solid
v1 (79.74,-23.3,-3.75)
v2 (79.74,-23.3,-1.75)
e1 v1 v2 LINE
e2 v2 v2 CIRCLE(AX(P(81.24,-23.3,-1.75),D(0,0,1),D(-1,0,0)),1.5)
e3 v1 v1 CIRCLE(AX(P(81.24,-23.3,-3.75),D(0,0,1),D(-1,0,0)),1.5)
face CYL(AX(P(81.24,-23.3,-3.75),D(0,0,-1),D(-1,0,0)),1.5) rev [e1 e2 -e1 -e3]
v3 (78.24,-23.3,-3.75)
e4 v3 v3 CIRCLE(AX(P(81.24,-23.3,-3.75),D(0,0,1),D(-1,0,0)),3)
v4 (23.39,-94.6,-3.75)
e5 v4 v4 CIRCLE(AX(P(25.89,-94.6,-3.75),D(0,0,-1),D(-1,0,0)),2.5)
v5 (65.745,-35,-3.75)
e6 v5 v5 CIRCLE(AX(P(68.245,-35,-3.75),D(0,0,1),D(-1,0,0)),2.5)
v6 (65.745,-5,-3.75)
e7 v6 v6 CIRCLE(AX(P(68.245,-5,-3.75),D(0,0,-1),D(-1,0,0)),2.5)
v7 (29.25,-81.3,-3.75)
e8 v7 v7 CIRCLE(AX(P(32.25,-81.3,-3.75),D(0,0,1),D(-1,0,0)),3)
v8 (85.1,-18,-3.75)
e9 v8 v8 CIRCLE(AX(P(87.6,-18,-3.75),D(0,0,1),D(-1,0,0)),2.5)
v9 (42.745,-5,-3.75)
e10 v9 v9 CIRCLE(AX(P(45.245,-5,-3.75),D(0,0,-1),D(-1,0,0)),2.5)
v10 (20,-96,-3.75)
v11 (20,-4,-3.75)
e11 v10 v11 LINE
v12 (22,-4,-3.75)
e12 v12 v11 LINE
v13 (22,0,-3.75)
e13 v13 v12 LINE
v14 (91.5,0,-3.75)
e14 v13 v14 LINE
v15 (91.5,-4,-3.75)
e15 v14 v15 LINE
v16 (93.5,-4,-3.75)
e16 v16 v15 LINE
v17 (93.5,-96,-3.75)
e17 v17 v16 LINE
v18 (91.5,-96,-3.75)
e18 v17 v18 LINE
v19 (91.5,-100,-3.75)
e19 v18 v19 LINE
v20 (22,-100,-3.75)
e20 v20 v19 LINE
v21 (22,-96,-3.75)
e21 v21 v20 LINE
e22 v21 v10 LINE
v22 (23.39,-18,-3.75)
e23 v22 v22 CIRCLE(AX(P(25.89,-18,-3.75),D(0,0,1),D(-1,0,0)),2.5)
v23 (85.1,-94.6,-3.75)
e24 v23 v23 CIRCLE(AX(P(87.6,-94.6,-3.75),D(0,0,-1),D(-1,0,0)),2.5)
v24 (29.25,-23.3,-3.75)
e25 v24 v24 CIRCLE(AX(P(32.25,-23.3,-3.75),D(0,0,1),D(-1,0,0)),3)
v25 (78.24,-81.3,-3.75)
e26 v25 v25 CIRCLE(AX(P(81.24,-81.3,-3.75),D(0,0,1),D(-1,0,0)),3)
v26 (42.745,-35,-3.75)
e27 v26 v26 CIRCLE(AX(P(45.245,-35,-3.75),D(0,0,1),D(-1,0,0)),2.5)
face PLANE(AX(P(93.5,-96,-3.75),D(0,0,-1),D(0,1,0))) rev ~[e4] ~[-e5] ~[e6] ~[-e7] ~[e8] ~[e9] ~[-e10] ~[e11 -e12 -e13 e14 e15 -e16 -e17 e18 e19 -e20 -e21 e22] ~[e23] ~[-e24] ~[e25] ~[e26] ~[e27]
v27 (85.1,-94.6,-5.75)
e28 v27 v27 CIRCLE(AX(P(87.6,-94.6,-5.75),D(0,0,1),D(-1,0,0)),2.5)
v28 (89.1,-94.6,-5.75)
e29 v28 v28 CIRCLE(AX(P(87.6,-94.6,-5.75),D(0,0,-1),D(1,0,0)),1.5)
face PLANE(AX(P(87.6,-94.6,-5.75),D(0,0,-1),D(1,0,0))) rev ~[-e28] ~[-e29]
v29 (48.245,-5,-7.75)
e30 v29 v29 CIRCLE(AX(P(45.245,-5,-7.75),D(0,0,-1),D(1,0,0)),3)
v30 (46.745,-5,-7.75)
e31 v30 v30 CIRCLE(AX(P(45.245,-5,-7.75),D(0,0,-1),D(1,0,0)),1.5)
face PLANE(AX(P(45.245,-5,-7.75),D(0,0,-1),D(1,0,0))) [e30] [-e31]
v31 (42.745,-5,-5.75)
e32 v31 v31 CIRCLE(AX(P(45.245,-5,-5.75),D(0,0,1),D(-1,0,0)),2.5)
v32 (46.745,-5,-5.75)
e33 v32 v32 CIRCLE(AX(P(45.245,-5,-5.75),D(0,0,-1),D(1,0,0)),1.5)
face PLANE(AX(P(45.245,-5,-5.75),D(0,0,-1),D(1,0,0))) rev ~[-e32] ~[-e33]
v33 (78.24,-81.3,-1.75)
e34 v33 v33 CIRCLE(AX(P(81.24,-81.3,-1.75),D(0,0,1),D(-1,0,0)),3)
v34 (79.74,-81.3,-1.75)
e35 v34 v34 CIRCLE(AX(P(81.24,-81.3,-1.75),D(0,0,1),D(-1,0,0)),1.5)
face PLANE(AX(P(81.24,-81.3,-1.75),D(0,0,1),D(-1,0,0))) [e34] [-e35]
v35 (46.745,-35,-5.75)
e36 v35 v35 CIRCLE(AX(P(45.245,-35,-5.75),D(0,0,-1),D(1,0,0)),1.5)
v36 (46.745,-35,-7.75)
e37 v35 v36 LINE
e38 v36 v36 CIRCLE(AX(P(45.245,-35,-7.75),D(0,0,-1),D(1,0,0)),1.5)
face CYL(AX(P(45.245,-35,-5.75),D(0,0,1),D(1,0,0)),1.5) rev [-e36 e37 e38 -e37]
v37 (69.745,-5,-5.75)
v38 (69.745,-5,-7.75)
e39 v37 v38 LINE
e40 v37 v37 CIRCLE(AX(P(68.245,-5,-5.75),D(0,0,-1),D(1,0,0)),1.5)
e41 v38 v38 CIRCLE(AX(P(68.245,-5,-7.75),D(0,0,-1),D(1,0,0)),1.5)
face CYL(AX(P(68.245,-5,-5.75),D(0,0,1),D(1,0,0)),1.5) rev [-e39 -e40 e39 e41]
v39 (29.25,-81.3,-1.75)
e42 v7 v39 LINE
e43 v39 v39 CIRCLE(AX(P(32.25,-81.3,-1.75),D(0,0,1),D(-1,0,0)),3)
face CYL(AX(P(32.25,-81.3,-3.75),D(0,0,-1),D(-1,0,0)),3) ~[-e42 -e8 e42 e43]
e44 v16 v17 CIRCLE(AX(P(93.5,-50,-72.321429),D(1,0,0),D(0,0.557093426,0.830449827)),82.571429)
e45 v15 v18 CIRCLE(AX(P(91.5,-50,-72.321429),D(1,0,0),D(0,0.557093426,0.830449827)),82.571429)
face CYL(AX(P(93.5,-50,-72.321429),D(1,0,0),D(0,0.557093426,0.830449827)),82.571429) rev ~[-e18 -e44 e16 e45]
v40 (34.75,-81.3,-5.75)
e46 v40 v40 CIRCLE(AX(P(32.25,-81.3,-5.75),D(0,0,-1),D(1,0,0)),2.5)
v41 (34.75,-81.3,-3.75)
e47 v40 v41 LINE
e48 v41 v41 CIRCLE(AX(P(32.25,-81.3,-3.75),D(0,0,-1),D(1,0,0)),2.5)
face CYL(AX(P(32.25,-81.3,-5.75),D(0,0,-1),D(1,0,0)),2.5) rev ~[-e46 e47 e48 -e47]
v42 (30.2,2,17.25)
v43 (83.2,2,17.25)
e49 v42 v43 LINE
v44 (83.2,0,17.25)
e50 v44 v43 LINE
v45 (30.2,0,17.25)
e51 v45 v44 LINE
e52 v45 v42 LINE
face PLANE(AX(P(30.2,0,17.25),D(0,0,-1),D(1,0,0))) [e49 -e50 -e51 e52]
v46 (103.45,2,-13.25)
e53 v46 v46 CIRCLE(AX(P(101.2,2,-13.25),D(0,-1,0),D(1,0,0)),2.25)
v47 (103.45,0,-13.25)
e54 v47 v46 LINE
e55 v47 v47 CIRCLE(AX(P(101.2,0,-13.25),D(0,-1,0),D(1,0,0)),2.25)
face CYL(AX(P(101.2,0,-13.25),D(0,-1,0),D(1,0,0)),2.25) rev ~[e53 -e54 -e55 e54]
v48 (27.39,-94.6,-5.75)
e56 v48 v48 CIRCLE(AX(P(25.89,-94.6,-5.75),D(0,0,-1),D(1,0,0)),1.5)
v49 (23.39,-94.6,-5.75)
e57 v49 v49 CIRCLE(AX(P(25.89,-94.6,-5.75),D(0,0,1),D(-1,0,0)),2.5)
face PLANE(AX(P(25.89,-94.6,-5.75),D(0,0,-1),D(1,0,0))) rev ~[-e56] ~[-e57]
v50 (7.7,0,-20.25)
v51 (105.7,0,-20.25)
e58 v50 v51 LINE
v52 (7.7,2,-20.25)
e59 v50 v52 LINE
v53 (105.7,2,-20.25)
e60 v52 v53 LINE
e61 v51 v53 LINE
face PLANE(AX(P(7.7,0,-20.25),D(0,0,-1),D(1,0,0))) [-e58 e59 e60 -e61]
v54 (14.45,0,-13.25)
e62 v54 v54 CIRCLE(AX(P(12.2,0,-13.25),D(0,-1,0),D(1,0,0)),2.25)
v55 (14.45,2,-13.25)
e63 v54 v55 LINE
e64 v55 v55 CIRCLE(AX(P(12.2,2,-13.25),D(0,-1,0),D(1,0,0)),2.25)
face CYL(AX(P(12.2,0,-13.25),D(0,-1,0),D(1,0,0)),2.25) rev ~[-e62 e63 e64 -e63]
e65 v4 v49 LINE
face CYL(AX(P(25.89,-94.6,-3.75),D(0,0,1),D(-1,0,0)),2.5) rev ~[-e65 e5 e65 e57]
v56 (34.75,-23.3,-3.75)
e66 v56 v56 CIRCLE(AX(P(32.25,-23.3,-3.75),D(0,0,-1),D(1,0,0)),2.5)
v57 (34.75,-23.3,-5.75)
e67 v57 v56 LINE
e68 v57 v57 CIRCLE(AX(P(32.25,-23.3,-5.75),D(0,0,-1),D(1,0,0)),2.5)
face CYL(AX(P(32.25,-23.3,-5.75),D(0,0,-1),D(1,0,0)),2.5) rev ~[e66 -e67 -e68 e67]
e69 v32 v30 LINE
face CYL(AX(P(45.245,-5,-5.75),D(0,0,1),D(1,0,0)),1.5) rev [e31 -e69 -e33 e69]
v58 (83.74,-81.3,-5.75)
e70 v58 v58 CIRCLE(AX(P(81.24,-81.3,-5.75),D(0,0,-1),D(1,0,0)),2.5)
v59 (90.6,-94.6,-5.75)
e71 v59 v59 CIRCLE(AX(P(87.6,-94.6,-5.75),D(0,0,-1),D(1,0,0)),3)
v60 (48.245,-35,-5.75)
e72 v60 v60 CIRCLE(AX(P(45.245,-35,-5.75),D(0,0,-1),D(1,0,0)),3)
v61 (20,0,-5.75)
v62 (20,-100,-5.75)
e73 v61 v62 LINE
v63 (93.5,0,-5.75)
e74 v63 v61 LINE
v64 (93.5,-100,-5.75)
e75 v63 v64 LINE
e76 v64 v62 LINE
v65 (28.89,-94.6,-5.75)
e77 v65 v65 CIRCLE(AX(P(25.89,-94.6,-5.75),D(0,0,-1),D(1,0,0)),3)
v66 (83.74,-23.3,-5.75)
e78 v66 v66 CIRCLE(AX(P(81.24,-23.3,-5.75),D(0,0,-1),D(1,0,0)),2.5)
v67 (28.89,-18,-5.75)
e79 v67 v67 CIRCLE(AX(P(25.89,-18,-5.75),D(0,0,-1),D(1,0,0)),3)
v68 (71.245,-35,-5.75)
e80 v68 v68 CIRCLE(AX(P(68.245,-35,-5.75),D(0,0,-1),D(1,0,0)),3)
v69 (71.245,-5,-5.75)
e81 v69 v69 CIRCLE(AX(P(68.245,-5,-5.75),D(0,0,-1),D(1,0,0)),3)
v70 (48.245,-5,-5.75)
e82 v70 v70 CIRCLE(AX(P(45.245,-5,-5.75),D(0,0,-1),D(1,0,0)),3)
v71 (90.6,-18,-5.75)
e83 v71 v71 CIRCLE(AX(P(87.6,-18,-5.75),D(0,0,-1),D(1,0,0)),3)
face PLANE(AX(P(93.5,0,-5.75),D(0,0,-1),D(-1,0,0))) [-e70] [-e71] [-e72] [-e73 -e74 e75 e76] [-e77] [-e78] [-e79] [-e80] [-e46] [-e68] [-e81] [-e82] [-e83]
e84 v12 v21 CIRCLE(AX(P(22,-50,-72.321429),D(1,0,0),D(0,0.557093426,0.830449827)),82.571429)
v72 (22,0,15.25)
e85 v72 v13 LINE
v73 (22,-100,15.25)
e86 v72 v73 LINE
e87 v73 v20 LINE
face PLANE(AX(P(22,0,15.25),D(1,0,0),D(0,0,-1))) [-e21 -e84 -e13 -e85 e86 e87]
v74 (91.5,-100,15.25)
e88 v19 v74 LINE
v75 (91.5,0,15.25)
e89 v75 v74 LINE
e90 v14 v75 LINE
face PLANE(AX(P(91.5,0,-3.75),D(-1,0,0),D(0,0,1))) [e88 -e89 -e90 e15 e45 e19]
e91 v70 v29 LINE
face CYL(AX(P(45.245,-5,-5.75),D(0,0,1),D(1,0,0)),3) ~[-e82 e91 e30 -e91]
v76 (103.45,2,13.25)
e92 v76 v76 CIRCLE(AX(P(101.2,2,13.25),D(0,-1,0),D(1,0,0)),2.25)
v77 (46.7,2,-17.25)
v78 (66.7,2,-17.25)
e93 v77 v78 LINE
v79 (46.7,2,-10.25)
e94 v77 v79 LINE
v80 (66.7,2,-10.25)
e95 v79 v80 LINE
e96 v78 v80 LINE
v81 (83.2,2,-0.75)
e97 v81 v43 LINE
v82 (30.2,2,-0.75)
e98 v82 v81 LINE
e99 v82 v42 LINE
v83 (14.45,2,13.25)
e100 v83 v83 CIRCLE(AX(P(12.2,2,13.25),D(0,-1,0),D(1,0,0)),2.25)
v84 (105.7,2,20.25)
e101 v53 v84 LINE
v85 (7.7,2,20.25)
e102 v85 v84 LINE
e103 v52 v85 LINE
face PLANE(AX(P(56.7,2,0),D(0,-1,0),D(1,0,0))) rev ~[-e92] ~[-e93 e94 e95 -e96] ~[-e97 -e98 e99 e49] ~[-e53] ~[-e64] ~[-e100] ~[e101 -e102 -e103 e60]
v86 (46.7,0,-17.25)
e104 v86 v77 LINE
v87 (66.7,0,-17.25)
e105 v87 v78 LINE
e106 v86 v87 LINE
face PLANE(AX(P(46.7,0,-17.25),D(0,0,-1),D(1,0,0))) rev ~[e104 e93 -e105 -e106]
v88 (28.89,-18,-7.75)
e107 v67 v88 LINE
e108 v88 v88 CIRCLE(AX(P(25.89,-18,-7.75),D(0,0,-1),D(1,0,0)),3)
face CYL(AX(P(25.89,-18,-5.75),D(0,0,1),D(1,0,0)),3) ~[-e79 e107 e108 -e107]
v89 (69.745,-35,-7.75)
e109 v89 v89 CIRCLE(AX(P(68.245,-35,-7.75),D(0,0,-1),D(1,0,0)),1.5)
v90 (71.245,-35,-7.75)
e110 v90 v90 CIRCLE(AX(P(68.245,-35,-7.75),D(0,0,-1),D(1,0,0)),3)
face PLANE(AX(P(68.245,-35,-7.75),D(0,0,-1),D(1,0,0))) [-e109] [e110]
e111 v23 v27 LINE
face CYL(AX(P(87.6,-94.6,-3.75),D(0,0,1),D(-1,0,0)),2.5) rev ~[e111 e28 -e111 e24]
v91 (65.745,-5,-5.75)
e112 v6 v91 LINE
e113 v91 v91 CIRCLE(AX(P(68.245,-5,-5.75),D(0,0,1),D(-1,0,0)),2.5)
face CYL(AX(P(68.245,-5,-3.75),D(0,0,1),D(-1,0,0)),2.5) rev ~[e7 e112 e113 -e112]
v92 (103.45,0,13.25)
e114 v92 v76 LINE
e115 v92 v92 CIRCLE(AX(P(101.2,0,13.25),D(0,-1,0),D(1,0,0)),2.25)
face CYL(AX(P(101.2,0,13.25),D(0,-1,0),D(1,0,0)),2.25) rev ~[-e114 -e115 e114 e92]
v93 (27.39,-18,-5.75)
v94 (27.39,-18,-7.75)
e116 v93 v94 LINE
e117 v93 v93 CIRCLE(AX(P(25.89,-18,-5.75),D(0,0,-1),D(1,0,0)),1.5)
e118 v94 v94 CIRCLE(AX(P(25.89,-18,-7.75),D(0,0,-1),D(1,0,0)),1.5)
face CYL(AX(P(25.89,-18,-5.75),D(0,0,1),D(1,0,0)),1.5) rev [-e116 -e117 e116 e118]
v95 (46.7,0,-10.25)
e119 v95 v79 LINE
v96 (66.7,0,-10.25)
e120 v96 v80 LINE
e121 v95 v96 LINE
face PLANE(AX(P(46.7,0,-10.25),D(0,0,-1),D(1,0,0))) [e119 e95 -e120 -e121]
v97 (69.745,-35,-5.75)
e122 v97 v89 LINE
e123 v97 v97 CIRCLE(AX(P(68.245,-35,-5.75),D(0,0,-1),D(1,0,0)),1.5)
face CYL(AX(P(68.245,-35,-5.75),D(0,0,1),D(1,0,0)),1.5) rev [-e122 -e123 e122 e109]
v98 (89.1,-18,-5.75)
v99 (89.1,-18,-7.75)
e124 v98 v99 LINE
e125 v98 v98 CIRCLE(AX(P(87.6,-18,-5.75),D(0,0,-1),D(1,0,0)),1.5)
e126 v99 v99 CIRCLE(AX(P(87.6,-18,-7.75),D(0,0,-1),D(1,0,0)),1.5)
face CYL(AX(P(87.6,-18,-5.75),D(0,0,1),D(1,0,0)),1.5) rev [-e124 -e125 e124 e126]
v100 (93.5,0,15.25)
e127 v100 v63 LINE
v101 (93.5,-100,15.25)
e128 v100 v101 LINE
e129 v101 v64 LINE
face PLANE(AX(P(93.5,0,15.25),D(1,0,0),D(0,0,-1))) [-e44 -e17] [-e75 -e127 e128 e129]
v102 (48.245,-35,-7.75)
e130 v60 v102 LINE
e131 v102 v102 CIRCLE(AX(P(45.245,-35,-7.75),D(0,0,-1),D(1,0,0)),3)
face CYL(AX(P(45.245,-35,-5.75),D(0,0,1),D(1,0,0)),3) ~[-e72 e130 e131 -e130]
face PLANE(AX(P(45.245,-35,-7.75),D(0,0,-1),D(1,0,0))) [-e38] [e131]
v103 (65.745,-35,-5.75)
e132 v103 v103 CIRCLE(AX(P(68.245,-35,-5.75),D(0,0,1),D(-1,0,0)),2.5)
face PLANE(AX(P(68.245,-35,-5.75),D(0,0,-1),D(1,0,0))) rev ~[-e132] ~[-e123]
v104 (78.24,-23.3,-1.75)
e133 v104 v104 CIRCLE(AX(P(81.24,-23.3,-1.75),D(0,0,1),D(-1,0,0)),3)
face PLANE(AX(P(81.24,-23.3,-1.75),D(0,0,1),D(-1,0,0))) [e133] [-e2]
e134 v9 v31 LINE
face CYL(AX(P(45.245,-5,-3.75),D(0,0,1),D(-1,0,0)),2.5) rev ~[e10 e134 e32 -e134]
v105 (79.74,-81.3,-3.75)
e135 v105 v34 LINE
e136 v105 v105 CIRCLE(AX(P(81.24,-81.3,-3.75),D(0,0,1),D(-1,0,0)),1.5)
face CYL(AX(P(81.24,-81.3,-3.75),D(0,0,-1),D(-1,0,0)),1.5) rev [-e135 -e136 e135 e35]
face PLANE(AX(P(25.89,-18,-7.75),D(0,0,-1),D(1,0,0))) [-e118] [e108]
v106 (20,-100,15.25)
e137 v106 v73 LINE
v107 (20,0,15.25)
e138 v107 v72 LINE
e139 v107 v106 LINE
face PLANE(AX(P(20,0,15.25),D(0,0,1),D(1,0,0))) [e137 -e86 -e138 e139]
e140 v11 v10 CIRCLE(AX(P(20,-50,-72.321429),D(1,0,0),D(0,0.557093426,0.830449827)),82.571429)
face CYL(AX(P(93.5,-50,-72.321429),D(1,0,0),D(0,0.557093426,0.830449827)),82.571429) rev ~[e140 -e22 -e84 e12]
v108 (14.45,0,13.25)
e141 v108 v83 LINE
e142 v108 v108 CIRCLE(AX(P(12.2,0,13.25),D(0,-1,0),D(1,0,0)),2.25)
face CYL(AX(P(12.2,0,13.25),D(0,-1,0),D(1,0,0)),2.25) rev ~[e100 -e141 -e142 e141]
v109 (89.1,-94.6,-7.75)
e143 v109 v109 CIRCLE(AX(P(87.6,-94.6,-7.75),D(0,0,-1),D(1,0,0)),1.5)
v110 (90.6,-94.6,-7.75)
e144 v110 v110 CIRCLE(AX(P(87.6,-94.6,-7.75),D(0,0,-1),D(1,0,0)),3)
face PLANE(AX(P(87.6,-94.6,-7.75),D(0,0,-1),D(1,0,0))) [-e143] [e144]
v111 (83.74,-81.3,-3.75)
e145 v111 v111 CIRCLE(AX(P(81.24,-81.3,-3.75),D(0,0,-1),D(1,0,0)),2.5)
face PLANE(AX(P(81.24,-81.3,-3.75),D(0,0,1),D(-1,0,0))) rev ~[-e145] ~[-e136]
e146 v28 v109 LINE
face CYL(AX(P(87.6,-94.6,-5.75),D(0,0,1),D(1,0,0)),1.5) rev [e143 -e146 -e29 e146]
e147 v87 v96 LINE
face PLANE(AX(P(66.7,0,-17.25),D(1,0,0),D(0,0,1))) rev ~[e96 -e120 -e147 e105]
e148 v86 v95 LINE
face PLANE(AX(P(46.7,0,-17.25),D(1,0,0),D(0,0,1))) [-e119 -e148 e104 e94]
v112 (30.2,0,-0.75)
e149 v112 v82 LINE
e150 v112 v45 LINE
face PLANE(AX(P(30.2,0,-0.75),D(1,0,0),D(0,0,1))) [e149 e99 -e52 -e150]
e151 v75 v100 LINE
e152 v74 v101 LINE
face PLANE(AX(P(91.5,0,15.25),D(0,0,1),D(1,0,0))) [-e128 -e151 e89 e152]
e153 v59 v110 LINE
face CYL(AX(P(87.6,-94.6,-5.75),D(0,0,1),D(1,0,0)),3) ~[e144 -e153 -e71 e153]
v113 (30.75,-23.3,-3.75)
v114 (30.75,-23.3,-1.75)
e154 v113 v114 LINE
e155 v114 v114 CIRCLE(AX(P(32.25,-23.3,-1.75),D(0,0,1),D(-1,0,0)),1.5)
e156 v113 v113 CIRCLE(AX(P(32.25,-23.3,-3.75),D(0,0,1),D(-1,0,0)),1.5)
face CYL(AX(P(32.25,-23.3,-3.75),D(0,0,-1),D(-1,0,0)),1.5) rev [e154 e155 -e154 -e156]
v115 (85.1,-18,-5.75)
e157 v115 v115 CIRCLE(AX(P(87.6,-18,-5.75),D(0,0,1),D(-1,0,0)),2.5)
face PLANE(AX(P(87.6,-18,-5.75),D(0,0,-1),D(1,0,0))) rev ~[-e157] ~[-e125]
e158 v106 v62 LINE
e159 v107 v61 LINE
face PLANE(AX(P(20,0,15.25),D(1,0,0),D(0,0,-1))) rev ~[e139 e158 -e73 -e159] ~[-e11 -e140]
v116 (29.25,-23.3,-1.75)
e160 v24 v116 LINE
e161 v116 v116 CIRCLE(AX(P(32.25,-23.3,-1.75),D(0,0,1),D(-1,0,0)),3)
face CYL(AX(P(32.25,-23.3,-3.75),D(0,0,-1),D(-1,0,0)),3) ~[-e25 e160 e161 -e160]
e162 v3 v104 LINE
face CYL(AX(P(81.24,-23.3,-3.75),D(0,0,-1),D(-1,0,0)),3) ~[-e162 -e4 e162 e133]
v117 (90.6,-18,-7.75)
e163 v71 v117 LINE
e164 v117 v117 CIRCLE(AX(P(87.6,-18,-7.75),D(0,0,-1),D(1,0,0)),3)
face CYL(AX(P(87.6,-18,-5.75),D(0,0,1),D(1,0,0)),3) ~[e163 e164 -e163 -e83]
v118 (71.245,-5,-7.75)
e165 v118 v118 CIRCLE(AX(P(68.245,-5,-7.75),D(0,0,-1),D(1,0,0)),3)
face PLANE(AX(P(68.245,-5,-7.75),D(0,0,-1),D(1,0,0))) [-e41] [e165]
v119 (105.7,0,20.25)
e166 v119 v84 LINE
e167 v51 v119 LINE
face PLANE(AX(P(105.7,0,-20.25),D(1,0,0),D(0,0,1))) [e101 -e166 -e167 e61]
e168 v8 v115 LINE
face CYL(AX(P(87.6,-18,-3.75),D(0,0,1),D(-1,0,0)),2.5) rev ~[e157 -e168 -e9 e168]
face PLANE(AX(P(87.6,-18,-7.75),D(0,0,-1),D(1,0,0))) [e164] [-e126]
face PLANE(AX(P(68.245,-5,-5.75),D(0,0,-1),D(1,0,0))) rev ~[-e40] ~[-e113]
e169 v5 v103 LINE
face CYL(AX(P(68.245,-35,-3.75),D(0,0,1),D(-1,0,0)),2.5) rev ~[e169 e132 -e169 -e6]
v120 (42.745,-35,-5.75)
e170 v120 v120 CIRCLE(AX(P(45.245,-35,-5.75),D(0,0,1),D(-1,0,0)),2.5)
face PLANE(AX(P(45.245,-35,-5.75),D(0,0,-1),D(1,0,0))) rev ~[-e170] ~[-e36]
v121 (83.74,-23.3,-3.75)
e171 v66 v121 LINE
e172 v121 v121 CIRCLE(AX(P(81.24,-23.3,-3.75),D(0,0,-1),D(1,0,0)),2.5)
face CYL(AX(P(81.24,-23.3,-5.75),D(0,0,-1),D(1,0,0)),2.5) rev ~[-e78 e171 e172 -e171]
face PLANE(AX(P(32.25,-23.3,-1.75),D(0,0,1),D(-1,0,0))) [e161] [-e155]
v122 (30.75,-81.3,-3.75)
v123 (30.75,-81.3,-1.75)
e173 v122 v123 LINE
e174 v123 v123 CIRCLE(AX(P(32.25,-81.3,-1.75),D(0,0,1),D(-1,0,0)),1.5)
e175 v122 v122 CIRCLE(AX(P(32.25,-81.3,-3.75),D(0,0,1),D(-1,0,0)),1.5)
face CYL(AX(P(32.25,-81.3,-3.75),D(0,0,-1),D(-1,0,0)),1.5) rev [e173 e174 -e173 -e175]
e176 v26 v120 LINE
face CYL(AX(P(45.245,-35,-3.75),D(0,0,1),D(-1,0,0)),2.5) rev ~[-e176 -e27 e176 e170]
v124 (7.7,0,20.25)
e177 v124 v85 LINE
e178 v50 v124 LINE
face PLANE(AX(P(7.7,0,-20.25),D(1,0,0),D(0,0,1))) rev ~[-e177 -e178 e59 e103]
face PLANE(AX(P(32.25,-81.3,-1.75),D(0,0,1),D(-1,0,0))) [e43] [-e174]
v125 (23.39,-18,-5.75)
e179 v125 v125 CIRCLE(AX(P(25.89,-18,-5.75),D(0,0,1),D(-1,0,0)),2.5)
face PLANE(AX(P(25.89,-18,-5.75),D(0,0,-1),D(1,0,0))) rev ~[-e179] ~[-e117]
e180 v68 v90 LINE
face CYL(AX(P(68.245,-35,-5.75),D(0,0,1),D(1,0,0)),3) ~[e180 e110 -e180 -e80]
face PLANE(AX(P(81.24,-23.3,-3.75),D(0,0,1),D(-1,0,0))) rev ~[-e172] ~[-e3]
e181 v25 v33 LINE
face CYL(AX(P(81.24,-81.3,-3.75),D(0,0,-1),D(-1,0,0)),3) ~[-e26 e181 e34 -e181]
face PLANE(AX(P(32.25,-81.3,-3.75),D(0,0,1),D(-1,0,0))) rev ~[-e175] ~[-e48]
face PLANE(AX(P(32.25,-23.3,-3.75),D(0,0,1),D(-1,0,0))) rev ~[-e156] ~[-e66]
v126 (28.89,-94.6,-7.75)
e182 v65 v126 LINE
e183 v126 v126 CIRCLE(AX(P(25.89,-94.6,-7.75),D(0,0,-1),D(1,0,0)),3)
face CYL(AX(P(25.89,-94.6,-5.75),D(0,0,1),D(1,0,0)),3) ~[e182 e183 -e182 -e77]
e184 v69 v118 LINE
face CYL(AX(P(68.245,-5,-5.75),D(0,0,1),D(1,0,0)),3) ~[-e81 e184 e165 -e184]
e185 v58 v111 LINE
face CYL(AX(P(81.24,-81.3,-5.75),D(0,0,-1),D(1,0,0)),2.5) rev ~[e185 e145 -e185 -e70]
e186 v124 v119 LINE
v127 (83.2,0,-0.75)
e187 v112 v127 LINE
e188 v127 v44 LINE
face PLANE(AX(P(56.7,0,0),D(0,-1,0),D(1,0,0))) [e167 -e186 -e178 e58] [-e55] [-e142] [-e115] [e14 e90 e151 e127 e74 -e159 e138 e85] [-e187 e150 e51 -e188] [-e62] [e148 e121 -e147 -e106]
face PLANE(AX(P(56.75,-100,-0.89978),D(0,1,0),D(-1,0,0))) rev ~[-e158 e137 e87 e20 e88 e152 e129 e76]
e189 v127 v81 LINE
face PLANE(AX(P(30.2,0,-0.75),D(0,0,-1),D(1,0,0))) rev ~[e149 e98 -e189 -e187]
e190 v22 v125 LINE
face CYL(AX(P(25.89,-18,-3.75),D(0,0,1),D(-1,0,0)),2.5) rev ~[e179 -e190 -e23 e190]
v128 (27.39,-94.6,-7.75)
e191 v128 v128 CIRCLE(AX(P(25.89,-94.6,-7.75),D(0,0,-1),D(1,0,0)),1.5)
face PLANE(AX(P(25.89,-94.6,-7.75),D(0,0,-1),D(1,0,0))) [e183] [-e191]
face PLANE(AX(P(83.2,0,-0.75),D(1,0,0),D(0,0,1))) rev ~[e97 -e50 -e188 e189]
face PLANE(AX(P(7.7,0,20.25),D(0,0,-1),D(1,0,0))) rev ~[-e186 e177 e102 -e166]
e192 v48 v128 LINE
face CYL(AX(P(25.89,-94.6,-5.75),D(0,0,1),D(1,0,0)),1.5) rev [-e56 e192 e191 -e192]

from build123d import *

# Parameters (mm, degrees)
SKETCH020_W     = 98
SKETCH020_H     = 40.5
SKETCH020_R     = 2.25
SKETCH020_W_2   = 53
SKETCH020_H_2   = 18
SKETCH020_W_3   = 20
SKETCH020_H_3   = 7
PAD006_DEPTH    = 2
PAD007_DEPTH    = 100
SKETCH024_R     = 2.5
POCKET010_DEPTH = 5
SKETCH026_R     = 2.5
POCKET011_DEPTH = 5
SKETCH028_R     = 3
SKETCH028_R_2   = 1.5
PAD009_DEPTH    = 2
POCKET012_DEPTH = 85.801
SKETCH027_R     = 3
SKETCH027_R_2   = 1.5
PAD010_DEPTH    = 2


with BuildPart() as part:
    # Sketch020 → Pad006 (new body)
    with BuildSketch(Plane.XZ):
        with Locations((56.7, 0)):
            Rectangle(SKETCH020_W, SKETCH020_H)
        with Locations((12.2, 13.25)):
            Circle(SKETCH020_R, mode=Mode.SUBTRACT)
        with Locations((12.2, -13.25)):
            Circle(SKETCH020_R, mode=Mode.SUBTRACT)
        with Locations((101.2, -13.25)):
            Circle(SKETCH020_R, mode=Mode.SUBTRACT)
        with Locations((101.2, 13.25)):
            Circle(SKETCH020_R, mode=Mode.SUBTRACT)
        with Locations((56.7, 8.25)):
            Rectangle(SKETCH020_W_2, SKETCH020_H_2, mode=Mode.SUBTRACT)
        with Locations((56.7, -13.75)):
            Rectangle(SKETCH020_W_3, SKETCH020_H_3, mode=Mode.SUBTRACT)
    extrude(amount=-PAD006_DEPTH)

    # Sketch022 (on Face17 of Pad006) → Pad007 (join)
    with BuildSketch(Plane.XZ):
        Polygon((22, -3.75), (91.5, -3.75), (91.5, 15.25), (93.5, 15.25), (93.5, -5.75), (20, -5.75), (20, -3.75), (20, 15.25), (22, 15.25), align=None)
    extrude(amount=PAD007_DEPTH)

    # Sketch024 (on Face20 of Pad007) → Pocket010 (cut)
    with BuildSketch(Plane(origin=(0, 0, -3.75), x_dir=(-1, 0, 0), z_dir=(0, 0, 1))):
        with Locations((-87.6, 94.6)):
            Circle(SKETCH024_R)
        with Locations((-25.89, 94.6)):
            Circle(SKETCH024_R)
        with Locations((-87.6, 18)):
            Circle(SKETCH024_R)
        with Locations((-25.89, 18)):
            Circle(SKETCH024_R)
        with Locations((-68.245, 5)):
            Circle(SKETCH024_R)
        with Locations((-45.245, 5)):
            Circle(SKETCH024_R)
        with Locations((-68.245, 35)):
            Circle(SKETCH024_R)
        with Locations((-45.245, 35)):
            Circle(SKETCH024_R)
    extrude(amount=-POCKET010_DEPTH, mode=Mode.SUBTRACT)

    # Sketch026 (on Face24 of Pocket010) → Pocket011 (cut)
    with BuildSketch(Plane(origin=(0, 0, -5.75), x_dir=(1, 0, 0), z_dir=(0, 0, -1))):
        with Locations((81.24, 81.3)):
            Circle(SKETCH026_R)
        with Locations((81.24, 23.3)):
            Circle(SKETCH026_R)
        with Locations((32.25, 81.3)):
            Circle(SKETCH026_R)
        with Locations((32.25, 23.3)):
            Circle(SKETCH026_R)
    extrude(amount=-POCKET011_DEPTH, mode=Mode.SUBTRACT)

    # Sketch028 → Pad009 (join)
    with BuildSketch(Plane(origin=(0, 0, -5.75), x_dir=(1, 0, 0), z_dir=(0, 0, -1))):
        with Locations((25.89, 94.6)):
            Circle(SKETCH028_R)
        with Locations((25.89, 94.6)):
            Circle(SKETCH028_R_2, mode=Mode.SUBTRACT)
        with Locations((87.6, 94.6)):
            Circle(SKETCH028_R)
        with Locations((87.6, 94.6)):
            Circle(SKETCH028_R_2, mode=Mode.SUBTRACT)
        with Locations((68.245, 35)):
            Circle(SKETCH028_R)
        with Locations((68.245, 35)):
            Circle(SKETCH028_R_2, mode=Mode.SUBTRACT)
        with Locations((45.245, 35)):
            Circle(SKETCH028_R)
        with Locations((45.245, 35)):
            Circle(SKETCH028_R_2, mode=Mode.SUBTRACT)
        with Locations((45.245, 5)):
            Circle(SKETCH028_R)
        with Locations((45.245, 5)):
            Circle(SKETCH028_R_2, mode=Mode.SUBTRACT)
        with Locations((68.245, 5)):
            Circle(SKETCH028_R)
        with Locations((68.245, 5)):
            Circle(SKETCH028_R_2, mode=Mode.SUBTRACT)
        with Locations((87.6, 18)):
            Circle(SKETCH028_R)
        with Locations((87.6, 18)):
            Circle(SKETCH028_R_2, mode=Mode.SUBTRACT)
        with Locations((25.89, 18)):
            Circle(SKETCH028_R)
        with Locations((25.89, 18)):
            Circle(SKETCH028_R_2, mode=Mode.SUBTRACT)
    extrude(amount=PAD009_DEPTH)

    # Sketch029 → Pocket012 (cut, through all)
    with BuildSketch(Plane(origin=(93.5, 0, 0), x_dir=(0, 0, 1), z_dir=(1, 0, 0))):
        with BuildLine():
            Line((-3.75, 96), (-3.75, 4))
            ThreePointArc((-3.75, 4), (10.25, 50), (-3.75, 96))
        make_face()
    extrude(amount=-POCKET012_DEPTH, mode=Mode.SUBTRACT)

    # Sketch027 (on Face20 of Pocket011) → Pad010 (join)
    with BuildSketch(Plane(origin=(0, 0, -3.75), x_dir=(-1, 0, 0), z_dir=(0, 0, 1))):
        with Locations((-81.24, 81.3)):
            Circle(SKETCH027_R)
        with Locations((-81.24, 81.3)):
            Circle(SKETCH027_R_2, mode=Mode.SUBTRACT)
        with Locations((-32.25, 81.3)):
            Circle(SKETCH027_R)
        with Locations((-32.25, 81.3)):
            Circle(SKETCH027_R_2, mode=Mode.SUBTRACT)
        with Locations((-81.24, 23.3)):
            Circle(SKETCH027_R)
        with Locations((-81.24, 23.3)):
            Circle(SKETCH027_R_2, mode=Mode.SUBTRACT)
        with Locations((-32.25, 23.3)):
            Circle(SKETCH027_R)
        with Locations((-32.25, 23.3)):
            Circle(SKETCH027_R_2, mode=Mode.SUBTRACT)
    extrude(amount=PAD010_DEPTH)


solid = part.part
